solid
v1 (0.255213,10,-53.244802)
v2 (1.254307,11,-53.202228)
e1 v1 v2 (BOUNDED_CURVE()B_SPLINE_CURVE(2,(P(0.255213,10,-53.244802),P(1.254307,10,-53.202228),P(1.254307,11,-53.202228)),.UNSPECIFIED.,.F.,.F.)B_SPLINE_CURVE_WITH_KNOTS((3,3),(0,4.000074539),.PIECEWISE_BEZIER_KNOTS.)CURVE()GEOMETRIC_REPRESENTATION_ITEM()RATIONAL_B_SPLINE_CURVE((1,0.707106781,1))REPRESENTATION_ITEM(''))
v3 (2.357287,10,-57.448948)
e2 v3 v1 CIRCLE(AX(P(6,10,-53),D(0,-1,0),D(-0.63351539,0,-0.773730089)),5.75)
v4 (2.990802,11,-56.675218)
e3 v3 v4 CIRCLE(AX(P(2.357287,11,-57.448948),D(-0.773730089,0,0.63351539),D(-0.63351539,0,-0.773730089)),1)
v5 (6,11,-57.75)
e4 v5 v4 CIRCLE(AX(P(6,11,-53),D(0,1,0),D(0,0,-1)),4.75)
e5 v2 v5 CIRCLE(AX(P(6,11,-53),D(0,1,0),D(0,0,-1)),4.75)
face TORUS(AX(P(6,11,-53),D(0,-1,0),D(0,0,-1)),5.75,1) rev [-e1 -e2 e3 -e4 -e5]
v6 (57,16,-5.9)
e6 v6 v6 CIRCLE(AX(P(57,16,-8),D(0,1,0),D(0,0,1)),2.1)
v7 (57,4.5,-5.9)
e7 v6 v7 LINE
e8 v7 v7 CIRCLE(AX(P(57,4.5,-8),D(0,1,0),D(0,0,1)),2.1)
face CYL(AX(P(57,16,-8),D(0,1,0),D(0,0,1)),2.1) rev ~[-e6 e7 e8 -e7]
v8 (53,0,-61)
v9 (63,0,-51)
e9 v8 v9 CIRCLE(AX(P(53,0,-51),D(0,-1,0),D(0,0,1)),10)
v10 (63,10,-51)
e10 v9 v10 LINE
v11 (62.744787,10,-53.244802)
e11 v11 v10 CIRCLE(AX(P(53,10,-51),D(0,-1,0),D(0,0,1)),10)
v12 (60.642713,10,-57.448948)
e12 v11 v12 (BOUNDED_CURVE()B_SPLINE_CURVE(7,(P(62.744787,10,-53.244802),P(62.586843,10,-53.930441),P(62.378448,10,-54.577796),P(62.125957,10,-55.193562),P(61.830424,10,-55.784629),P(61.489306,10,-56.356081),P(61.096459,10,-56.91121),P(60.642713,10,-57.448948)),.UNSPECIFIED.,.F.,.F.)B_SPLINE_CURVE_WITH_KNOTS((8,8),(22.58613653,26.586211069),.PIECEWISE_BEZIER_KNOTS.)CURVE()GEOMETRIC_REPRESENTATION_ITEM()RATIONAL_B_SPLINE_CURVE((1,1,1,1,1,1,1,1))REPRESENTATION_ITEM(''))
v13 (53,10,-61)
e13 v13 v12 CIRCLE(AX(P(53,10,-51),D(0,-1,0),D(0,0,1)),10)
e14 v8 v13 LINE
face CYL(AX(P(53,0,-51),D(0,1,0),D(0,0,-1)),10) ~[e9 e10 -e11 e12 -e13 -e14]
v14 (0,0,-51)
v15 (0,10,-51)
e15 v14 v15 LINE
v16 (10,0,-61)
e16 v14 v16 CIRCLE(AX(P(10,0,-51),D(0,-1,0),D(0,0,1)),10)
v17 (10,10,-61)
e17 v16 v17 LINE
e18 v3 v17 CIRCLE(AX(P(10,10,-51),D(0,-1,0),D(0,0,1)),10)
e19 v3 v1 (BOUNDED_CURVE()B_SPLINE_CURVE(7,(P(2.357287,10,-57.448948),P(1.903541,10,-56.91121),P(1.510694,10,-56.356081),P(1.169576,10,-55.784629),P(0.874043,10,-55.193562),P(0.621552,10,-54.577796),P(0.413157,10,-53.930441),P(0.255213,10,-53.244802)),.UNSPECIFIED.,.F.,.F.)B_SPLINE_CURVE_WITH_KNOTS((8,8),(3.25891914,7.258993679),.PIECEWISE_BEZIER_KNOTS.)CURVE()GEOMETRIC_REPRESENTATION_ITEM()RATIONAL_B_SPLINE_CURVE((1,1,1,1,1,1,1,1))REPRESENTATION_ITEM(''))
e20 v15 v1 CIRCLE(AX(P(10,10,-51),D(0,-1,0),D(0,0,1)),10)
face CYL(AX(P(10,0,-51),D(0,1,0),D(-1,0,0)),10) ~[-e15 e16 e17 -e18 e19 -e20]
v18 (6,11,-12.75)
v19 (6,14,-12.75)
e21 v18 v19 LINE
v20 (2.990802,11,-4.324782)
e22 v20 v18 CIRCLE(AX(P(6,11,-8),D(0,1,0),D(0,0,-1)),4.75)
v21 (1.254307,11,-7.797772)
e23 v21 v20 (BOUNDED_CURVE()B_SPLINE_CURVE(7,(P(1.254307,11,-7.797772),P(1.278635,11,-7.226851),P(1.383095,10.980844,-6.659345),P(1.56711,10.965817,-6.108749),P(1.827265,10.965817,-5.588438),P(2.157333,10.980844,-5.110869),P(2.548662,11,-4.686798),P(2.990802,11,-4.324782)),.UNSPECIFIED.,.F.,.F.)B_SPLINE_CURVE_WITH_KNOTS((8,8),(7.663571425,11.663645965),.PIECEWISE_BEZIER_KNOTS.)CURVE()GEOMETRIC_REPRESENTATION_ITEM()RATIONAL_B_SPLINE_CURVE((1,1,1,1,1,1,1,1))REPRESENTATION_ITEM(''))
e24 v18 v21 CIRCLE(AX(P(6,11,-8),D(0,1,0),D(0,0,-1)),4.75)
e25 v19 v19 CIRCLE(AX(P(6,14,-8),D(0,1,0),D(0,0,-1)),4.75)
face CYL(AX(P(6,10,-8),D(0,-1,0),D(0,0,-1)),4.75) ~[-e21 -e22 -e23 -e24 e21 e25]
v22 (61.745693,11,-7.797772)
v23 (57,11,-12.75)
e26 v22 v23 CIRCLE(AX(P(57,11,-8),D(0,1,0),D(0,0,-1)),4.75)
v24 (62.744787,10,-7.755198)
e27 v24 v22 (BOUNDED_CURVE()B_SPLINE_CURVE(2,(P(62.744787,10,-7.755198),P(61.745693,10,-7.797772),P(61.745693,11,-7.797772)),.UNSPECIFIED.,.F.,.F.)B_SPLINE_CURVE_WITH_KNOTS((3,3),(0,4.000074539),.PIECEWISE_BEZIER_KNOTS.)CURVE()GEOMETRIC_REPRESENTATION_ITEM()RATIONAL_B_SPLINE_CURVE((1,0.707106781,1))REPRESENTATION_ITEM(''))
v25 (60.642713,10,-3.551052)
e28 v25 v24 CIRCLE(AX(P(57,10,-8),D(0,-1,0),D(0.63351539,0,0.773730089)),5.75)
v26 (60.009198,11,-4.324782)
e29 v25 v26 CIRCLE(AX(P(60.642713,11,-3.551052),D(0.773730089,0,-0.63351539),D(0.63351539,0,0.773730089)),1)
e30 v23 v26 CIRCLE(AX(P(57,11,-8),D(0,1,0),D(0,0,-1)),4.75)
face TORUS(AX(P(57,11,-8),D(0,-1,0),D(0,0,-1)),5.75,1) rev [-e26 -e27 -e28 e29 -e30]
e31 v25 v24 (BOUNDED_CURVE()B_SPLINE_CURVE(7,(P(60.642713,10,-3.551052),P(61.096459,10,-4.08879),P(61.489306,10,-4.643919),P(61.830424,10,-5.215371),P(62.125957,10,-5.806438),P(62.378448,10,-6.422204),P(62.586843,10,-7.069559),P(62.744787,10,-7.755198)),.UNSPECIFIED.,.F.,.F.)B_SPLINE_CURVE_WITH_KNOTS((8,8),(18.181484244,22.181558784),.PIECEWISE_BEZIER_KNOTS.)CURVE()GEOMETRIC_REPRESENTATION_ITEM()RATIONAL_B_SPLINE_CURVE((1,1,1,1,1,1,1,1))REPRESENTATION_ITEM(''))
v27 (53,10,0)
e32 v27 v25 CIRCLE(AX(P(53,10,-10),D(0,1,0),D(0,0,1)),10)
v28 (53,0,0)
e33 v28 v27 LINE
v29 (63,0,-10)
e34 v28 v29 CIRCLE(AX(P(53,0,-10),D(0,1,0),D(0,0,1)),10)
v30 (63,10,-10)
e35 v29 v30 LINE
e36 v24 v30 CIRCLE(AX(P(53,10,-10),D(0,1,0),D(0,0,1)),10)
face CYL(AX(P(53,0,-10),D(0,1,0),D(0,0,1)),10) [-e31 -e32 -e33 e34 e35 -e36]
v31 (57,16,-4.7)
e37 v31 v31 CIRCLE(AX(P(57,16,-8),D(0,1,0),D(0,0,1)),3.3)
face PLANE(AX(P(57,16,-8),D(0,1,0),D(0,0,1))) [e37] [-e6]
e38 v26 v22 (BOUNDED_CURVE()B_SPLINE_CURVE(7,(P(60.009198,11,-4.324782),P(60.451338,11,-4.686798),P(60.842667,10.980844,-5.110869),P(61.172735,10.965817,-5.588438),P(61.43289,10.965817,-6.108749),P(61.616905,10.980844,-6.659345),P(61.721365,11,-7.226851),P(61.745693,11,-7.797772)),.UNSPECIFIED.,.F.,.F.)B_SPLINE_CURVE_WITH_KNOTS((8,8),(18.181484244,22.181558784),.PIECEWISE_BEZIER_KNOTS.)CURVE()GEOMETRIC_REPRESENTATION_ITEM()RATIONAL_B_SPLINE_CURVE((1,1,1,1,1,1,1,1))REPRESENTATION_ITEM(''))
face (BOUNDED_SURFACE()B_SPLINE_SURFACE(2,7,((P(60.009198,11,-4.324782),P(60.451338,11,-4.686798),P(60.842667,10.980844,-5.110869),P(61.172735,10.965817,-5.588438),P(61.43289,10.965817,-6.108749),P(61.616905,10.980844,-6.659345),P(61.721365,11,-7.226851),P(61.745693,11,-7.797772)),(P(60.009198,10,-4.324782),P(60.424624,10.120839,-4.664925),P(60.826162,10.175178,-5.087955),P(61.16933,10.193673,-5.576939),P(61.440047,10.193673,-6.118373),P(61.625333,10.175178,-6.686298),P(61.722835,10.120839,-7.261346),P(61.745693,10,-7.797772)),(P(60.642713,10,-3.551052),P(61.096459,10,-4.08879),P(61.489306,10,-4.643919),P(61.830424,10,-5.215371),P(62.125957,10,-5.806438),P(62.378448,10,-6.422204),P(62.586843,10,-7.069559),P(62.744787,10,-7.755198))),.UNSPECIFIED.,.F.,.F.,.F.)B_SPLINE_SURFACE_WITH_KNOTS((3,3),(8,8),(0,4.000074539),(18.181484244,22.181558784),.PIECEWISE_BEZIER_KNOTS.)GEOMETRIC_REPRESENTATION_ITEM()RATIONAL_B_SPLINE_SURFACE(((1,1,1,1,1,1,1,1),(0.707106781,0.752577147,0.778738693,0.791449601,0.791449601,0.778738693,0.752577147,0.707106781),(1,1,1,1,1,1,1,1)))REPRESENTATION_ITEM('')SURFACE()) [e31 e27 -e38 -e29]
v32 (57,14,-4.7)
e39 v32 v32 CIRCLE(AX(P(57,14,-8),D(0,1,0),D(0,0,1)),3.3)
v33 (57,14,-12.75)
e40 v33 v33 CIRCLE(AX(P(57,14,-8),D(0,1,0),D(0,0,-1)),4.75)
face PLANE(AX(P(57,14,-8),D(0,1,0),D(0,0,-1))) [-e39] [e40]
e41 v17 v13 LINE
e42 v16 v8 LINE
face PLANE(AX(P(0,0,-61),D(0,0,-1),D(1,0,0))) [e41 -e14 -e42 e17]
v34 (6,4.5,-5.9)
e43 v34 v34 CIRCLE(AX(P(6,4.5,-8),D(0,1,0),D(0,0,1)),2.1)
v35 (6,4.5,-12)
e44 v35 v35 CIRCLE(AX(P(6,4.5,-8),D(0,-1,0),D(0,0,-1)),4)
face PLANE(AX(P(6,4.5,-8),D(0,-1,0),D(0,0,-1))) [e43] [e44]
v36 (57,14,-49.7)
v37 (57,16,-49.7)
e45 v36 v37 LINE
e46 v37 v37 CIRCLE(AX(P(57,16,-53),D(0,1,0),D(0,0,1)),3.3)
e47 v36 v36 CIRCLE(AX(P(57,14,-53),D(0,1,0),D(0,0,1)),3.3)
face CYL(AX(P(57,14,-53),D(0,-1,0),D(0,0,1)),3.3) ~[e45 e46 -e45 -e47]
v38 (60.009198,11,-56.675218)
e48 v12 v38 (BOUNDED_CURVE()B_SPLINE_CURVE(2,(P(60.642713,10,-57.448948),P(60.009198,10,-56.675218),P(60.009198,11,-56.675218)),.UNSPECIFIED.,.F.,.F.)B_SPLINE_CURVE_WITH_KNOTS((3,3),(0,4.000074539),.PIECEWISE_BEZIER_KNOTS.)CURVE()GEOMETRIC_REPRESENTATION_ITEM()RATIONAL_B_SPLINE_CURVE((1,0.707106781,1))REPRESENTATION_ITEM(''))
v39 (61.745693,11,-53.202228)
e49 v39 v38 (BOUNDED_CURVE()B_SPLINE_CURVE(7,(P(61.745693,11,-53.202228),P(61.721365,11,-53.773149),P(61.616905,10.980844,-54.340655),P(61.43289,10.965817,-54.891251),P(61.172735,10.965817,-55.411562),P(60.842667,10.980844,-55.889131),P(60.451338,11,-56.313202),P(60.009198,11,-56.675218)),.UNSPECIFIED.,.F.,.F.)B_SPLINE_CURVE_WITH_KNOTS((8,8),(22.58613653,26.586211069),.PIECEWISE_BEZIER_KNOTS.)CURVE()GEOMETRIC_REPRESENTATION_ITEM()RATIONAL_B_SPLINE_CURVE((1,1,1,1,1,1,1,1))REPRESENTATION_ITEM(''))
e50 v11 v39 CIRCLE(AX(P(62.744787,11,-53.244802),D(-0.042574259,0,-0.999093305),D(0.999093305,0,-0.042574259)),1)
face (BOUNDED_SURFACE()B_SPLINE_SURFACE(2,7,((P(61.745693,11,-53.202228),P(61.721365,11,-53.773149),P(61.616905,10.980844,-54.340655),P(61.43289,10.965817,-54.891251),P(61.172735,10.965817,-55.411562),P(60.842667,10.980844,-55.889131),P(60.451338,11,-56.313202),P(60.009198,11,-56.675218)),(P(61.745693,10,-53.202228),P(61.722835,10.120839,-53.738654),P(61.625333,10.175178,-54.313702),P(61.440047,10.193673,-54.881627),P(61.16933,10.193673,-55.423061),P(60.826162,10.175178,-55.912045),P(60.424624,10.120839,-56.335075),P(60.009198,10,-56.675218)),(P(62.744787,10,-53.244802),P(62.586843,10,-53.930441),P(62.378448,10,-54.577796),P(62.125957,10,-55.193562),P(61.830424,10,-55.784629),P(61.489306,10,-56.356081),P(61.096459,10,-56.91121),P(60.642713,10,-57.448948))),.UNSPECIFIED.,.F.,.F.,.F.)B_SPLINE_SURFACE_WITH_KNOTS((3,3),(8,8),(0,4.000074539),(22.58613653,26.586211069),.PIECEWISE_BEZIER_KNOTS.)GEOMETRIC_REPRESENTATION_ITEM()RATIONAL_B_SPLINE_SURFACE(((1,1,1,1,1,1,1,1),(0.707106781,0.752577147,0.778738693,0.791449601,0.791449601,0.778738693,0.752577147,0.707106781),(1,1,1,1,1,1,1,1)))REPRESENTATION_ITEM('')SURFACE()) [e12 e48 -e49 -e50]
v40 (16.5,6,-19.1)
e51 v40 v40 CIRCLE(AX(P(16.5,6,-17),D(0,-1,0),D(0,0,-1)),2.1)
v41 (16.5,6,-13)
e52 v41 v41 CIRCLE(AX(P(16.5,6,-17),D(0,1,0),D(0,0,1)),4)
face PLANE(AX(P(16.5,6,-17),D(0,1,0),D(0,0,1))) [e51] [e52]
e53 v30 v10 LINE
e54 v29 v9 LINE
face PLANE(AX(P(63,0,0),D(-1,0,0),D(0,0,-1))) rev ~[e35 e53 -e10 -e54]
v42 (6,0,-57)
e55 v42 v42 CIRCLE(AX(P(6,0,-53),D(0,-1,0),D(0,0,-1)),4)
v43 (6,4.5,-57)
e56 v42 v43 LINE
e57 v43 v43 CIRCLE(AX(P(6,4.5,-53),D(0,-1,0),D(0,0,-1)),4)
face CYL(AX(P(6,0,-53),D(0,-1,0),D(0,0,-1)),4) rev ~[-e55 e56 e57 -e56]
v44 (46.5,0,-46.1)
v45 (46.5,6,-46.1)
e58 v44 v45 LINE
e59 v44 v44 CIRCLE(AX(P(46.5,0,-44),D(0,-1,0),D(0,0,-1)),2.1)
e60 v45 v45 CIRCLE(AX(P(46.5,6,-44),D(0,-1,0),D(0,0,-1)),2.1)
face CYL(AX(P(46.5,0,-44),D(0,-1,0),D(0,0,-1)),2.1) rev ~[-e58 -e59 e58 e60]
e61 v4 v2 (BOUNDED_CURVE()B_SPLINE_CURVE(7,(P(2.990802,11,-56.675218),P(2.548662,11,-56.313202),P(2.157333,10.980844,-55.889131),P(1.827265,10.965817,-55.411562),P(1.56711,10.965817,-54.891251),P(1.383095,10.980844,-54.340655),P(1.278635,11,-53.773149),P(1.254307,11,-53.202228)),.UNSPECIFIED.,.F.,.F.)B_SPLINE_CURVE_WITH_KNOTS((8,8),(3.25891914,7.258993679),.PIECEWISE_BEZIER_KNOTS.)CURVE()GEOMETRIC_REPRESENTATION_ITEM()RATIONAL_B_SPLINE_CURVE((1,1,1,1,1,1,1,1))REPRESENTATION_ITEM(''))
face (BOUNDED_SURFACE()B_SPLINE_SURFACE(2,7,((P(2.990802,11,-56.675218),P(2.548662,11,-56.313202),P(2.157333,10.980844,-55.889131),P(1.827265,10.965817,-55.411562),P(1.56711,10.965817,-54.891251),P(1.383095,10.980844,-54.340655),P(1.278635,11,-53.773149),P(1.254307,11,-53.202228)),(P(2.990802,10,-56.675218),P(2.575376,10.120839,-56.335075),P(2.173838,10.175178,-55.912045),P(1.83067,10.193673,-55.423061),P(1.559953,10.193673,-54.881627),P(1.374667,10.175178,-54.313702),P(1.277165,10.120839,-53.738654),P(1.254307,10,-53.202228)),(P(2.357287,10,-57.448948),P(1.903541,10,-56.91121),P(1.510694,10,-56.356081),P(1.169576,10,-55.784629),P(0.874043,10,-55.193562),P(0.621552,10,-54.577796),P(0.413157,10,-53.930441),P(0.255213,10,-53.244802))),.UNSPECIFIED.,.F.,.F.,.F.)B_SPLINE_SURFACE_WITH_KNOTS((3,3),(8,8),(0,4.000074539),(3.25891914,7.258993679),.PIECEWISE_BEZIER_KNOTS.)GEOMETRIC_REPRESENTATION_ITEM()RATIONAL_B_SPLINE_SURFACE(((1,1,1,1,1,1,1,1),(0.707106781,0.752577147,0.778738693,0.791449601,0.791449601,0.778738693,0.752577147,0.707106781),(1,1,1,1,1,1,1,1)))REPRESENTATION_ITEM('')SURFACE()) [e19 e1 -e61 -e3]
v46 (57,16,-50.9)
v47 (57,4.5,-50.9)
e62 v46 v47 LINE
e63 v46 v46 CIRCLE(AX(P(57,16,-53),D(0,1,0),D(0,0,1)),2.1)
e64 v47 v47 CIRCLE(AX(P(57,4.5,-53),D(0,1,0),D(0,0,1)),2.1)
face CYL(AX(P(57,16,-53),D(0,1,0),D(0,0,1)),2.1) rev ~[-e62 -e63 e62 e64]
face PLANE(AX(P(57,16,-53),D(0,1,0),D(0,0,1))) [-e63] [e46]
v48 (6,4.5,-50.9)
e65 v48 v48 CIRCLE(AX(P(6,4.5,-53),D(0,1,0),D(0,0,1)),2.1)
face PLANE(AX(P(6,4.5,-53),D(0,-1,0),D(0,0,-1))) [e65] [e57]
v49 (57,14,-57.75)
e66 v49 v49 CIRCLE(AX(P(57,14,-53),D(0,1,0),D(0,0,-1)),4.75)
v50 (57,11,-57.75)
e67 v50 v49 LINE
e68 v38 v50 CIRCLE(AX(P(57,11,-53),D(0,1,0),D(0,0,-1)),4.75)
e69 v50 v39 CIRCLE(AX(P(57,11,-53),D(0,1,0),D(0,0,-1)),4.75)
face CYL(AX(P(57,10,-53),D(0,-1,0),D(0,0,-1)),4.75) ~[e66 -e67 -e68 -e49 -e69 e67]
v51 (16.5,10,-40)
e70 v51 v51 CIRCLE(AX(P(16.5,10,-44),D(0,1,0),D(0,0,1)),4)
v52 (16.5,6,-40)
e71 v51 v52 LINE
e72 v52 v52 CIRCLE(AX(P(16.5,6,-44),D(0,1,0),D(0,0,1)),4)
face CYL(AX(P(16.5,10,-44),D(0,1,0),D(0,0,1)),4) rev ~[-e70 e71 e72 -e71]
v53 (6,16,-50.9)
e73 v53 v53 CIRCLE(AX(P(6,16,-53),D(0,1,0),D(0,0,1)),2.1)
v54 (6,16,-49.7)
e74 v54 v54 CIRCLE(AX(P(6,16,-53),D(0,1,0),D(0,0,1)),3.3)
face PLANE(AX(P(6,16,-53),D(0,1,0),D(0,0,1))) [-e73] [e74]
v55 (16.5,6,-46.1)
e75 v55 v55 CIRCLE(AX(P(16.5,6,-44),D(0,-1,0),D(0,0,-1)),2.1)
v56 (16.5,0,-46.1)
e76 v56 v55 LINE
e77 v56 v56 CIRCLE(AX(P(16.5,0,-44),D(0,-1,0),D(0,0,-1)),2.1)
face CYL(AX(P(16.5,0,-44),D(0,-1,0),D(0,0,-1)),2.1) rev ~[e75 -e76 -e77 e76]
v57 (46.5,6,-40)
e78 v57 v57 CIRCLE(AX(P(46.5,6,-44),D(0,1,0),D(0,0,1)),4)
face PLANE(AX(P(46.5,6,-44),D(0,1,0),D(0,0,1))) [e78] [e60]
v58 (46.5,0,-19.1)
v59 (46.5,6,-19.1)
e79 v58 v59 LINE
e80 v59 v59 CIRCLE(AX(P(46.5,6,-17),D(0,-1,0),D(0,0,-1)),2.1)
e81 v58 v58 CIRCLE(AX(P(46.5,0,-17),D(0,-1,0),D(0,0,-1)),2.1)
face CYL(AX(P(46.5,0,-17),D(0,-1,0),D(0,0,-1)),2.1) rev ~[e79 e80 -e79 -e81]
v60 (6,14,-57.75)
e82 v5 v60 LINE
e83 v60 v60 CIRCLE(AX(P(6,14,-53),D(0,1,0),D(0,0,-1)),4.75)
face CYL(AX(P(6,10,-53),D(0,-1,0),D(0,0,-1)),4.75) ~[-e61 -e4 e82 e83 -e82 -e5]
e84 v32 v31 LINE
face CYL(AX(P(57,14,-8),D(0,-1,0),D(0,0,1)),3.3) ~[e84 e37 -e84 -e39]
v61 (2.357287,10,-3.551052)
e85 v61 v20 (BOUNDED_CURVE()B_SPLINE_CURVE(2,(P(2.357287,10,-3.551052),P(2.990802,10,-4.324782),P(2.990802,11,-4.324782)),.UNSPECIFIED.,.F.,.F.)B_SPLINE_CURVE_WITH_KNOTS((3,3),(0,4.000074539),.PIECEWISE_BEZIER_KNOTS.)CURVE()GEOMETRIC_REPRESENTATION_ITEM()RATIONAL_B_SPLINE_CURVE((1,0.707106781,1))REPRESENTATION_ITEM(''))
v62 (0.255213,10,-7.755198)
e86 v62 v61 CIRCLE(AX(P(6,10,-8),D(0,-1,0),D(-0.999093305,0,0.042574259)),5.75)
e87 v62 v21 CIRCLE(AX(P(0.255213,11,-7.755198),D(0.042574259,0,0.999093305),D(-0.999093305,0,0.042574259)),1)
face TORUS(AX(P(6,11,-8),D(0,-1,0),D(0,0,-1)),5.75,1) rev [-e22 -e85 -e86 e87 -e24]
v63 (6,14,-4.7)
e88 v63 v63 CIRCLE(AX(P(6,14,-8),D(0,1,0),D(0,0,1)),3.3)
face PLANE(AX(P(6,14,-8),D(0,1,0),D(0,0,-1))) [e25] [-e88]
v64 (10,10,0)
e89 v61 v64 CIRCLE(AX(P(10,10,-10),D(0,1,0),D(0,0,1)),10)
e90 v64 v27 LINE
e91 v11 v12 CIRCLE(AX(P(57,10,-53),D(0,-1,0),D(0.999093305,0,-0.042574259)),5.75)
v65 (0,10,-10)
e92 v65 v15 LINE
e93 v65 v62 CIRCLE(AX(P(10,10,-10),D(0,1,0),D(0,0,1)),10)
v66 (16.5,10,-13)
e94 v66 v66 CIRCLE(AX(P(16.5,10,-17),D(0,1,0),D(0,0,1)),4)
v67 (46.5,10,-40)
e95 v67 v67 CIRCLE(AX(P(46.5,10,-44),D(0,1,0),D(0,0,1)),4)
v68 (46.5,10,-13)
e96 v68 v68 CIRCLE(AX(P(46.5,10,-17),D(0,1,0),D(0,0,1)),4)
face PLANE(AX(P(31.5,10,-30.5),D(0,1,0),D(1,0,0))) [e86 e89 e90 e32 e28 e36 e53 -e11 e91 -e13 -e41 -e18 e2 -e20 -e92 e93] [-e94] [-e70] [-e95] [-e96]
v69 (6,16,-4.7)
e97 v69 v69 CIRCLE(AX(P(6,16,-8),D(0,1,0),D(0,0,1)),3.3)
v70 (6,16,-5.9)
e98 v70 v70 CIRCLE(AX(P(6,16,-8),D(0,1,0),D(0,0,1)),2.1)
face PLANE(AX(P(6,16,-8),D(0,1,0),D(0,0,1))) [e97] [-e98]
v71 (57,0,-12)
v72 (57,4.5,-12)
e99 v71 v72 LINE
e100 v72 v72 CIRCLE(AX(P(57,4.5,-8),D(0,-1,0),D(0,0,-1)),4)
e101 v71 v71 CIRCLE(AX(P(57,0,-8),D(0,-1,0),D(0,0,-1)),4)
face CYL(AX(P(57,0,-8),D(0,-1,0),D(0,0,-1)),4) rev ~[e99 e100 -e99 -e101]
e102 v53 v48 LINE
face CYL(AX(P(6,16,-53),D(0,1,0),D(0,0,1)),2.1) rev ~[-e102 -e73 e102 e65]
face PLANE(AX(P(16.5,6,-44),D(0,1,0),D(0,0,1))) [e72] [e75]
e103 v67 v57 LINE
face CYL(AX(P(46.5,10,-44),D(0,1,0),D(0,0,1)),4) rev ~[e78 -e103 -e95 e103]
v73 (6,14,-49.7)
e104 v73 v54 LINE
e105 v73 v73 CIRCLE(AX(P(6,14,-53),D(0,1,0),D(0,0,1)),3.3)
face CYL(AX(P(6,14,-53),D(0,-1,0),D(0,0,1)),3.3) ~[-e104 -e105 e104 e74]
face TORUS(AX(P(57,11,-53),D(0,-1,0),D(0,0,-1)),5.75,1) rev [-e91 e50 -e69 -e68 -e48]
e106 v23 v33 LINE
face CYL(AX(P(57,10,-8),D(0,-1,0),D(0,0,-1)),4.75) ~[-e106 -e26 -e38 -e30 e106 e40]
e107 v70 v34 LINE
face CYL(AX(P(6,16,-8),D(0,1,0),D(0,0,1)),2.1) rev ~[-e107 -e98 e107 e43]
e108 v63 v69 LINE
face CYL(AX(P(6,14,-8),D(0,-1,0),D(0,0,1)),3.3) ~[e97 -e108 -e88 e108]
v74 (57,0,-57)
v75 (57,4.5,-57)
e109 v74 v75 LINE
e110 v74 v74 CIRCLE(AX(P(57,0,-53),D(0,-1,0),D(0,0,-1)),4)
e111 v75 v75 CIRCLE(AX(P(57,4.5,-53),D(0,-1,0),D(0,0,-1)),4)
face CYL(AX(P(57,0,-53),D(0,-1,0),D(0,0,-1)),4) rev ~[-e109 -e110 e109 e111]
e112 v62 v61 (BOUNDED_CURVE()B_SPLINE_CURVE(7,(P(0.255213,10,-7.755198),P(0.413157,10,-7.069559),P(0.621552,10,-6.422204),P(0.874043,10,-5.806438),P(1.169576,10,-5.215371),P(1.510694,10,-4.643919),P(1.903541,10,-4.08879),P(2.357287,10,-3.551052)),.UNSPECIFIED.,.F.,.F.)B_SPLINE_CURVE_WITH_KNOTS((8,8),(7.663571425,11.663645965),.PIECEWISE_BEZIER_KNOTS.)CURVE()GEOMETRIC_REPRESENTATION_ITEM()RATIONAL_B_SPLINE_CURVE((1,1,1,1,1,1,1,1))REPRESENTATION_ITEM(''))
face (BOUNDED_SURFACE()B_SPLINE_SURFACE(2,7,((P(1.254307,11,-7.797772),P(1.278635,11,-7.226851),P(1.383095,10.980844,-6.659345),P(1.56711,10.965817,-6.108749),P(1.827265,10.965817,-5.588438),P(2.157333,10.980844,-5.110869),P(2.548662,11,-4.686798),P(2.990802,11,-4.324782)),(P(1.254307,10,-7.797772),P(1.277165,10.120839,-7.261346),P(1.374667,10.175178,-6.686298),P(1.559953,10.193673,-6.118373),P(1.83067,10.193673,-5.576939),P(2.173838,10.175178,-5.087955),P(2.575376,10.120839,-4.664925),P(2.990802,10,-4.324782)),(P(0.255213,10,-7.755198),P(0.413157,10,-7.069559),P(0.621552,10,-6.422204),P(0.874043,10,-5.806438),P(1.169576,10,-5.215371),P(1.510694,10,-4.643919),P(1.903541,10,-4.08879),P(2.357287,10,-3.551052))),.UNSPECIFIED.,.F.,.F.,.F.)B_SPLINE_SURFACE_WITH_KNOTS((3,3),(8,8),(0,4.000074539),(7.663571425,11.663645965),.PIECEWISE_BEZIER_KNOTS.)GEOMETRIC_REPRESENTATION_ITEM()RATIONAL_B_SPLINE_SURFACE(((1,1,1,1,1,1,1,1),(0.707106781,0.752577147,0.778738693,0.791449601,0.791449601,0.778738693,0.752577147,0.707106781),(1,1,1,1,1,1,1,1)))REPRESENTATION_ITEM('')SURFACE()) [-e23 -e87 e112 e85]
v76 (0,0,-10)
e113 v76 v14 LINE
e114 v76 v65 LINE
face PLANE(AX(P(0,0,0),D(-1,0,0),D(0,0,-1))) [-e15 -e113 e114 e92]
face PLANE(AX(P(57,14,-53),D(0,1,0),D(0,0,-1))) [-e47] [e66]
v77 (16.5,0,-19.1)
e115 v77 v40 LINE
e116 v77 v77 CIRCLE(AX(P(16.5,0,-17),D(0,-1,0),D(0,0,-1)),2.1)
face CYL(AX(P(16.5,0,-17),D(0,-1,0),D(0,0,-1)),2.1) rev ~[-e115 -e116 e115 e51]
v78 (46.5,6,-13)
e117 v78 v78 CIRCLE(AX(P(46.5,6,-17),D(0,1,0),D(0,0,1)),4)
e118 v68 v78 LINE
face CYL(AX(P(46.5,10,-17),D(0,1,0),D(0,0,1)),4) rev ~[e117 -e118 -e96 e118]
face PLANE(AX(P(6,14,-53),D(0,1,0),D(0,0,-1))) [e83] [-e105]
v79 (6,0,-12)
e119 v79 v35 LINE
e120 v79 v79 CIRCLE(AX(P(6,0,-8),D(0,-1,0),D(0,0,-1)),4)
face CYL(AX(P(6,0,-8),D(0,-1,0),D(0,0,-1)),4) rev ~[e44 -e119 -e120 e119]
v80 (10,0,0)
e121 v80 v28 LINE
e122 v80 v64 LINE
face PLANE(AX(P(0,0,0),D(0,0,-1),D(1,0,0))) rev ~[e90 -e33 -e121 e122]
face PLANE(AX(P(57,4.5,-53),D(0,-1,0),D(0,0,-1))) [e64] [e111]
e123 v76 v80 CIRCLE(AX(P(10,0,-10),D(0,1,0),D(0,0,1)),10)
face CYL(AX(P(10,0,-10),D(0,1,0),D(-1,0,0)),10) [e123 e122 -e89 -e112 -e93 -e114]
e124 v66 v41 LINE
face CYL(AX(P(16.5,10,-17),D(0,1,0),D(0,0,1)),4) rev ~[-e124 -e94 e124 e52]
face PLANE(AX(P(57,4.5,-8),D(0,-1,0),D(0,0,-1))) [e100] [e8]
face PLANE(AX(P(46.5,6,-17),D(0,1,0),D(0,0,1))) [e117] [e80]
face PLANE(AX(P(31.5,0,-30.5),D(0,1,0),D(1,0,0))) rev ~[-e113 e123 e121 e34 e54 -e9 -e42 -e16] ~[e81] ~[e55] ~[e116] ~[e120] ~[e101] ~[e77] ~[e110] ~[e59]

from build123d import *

# Parameters (mm, degrees)
ESQUISSE1_W             = 63
ESQUISSE1_H             = 61
BOSS_EXTRU_1_DEPTH      = 10
ESQUISSE4_R             = 4.75
BOSS_EXTRU_3_DEPTH      = 4
ESQUISSE5_R             = 3.3
BOSS_EXTRU_4_DEPTH      = 2
ESQUISSE6_R             = 2.1
ENL_V_MAT_EXTRU_2_DEPTH = 90.140338792
CONG_1_R                = 10
CONG_2_R                = 1
ESQUISSE7_R             = 2.1
ENL_V_MAT_EXTRU_3_DEPTH = 90.140338931
ESQUISSE8_R             = 4
ENL_V_MAT_EXTRU_4_DEPTH = 4
ESQUISSE9_R             = 4
ENL_V_MAT_EXTRU_5_DEPTH = 4.5


with BuildPart() as part:
    # Esquisse1 → Boss.-Extru.1 (new body)
    with BuildSketch(Plane(origin=(0, 0, 0), x_dir=(1, 0, 0), z_dir=(0, 1, 0))):
        with Locations((31.5, 30.5)):
            Rectangle(ESQUISSE1_W, ESQUISSE1_H)
    extrude(amount=BOSS_EXTRU_1_DEPTH)

    # Esquisse4 → Boss.-Extru.3 (add)
    with BuildSketch(Plane(origin=(0, 10, 0), x_dir=(1, 0, 0), z_dir=(0, 1, 0))):
        with Locations(Location((6, 8, 0), (0, 0, 90))):
            Circle(ESQUISSE4_R)
        with Locations(Location((6, 53, 0), (0, 0, 90))):
            Circle(ESQUISSE4_R)
        with Locations(Location((57, 8, 0), (0, 0, 90))):
            Circle(ESQUISSE4_R)
        with Locations(Location((57, 53, 0), (0, 0, 90))):
            Circle(ESQUISSE4_R)
    extrude(amount=BOSS_EXTRU_3_DEPTH)

    # Esquisse5 → Boss.-Extru.4 (add)
    with BuildSketch(Plane(origin=(0, 14, 0), x_dir=(1, 0, 0), z_dir=(0, 1, 0))):
        with Locations(Location((57, 53, 0), (0, 0, 270))):
            Circle(ESQUISSE5_R)
        with Locations(Location((57, 8, 0), (0, 0, 270))):
            Circle(ESQUISSE5_R)
        with Locations(Location((6, 8, 0), (0, 0, 270))):
            Circle(ESQUISSE5_R)
        with Locations(Location((6, 53, 0), (0, 0, 270))):
            Circle(ESQUISSE5_R)
    extrude(amount=BOSS_EXTRU_4_DEPTH)

    # Esquisse6 → Enlèv. mat.-Extru.2 (cut, through all)
    with BuildSketch(Plane(origin=(0, 16, 0), x_dir=(1, 0, 0), z_dir=(0, 1, 0))):
        with Locations(Location((6, 8, 0), (0, 0, 270))):
            Circle(ESQUISSE6_R)
        with Locations(Location((6, 53, 0), (0, 0, 270))):
            Circle(ESQUISSE6_R)
        with Locations(Location((57, 53, 0), (0, 0, 270))):
            Circle(ESQUISSE6_R)
        with Locations(Location((57, 8, 0), (0, 0, 270))):
            Circle(ESQUISSE6_R)
    extrude(amount=-ENL_V_MAT_EXTRU_2_DEPTH, mode=Mode.SUBTRACT)

    # Congé1
    cong_1_edges = [part.edges().sort_by_distance(p)[0] for p in [
        (0, 5, -61),
        (63, 5, -61),
        (63, 5, 0),
        (0, 5, 0),
    ]]
    fillet(cong_1_edges, radius=CONG_1_R)

    # Congé2
    cong_2_edges = [part.edges().sort_by_distance(p)[0] for p in [
        (6, 10, -3.25),
        (6, 10, -48.25),
        (57, 10, -3.25),
        (57, 10, -48.25),
    ]]
    fillet(cong_2_edges, radius=CONG_2_R)

    # Esquisse7 → Enlèv. mat.-Extru.3 (cut, through all)
    with BuildSketch(Plane(origin=(0, 0, 0), x_dir=(-1, 0, 0), z_dir=(0, -1, 0))):
        with Locations(Location((-16.5, 17, 0), (0, 0, 90))):
            Circle(ESQUISSE7_R)
        with Locations(Location((-46.5, 17, 0), (0, 0, 90))):
            Circle(ESQUISSE7_R)
        with Locations(Location((-16.5, 44, 0), (0, 0, 90))):
            Circle(ESQUISSE7_R)
        with Locations(Location((-46.5, 44, 0), (0, 0, 90))):
            Circle(ESQUISSE7_R)
    extrude(amount=-ENL_V_MAT_EXTRU_3_DEPTH, mode=Mode.SUBTRACT)

    # Esquisse8 → Enlèv. mat.-Extru.4 (cut)
    with BuildSketch(Plane(origin=(0, 10, 0), x_dir=(1, 0, 0), z_dir=(0, 1, 0))):
        with Locations(Location((16.5, 44, 0), (0, 0, 270))):
            Circle(ESQUISSE8_R)
        with Locations(Location((46.5, 44, 0), (0, 0, 270))):
            Circle(ESQUISSE8_R)
        with Locations(Location((46.5, 17, 0), (0, 0, 270))):
            Circle(ESQUISSE8_R)
        with Locations(Location((16.5, 17, 0), (0, 0, 270))):
            Circle(ESQUISSE8_R)
    extrude(amount=-ENL_V_MAT_EXTRU_4_DEPTH, mode=Mode.SUBTRACT)

    # Esquisse9 → Enlèv. mat.-Extru.5 (cut)
    with BuildSketch(Plane(origin=(0, 0, 0), x_dir=(-1, 0, 0), z_dir=(0, -1, 0))):
        with Locations(Location((-57, 8, 0), (0, 0, 90))):
            Circle(ESQUISSE9_R)
        with Locations(Location((-57, 53, 0), (0, 0, 90))):
            Circle(ESQUISSE9_R)
        with Locations(Location((-6, 53, 0), (0, 0, 90))):
            Circle(ESQUISSE9_R)
        with Locations(Location((-6, 8, 0), (0, 0, 90))):
            Circle(ESQUISSE9_R)
    extrude(amount=-ENL_V_MAT_EXTRU_5_DEPTH, mode=Mode.SUBTRACT)


solid = part.part
